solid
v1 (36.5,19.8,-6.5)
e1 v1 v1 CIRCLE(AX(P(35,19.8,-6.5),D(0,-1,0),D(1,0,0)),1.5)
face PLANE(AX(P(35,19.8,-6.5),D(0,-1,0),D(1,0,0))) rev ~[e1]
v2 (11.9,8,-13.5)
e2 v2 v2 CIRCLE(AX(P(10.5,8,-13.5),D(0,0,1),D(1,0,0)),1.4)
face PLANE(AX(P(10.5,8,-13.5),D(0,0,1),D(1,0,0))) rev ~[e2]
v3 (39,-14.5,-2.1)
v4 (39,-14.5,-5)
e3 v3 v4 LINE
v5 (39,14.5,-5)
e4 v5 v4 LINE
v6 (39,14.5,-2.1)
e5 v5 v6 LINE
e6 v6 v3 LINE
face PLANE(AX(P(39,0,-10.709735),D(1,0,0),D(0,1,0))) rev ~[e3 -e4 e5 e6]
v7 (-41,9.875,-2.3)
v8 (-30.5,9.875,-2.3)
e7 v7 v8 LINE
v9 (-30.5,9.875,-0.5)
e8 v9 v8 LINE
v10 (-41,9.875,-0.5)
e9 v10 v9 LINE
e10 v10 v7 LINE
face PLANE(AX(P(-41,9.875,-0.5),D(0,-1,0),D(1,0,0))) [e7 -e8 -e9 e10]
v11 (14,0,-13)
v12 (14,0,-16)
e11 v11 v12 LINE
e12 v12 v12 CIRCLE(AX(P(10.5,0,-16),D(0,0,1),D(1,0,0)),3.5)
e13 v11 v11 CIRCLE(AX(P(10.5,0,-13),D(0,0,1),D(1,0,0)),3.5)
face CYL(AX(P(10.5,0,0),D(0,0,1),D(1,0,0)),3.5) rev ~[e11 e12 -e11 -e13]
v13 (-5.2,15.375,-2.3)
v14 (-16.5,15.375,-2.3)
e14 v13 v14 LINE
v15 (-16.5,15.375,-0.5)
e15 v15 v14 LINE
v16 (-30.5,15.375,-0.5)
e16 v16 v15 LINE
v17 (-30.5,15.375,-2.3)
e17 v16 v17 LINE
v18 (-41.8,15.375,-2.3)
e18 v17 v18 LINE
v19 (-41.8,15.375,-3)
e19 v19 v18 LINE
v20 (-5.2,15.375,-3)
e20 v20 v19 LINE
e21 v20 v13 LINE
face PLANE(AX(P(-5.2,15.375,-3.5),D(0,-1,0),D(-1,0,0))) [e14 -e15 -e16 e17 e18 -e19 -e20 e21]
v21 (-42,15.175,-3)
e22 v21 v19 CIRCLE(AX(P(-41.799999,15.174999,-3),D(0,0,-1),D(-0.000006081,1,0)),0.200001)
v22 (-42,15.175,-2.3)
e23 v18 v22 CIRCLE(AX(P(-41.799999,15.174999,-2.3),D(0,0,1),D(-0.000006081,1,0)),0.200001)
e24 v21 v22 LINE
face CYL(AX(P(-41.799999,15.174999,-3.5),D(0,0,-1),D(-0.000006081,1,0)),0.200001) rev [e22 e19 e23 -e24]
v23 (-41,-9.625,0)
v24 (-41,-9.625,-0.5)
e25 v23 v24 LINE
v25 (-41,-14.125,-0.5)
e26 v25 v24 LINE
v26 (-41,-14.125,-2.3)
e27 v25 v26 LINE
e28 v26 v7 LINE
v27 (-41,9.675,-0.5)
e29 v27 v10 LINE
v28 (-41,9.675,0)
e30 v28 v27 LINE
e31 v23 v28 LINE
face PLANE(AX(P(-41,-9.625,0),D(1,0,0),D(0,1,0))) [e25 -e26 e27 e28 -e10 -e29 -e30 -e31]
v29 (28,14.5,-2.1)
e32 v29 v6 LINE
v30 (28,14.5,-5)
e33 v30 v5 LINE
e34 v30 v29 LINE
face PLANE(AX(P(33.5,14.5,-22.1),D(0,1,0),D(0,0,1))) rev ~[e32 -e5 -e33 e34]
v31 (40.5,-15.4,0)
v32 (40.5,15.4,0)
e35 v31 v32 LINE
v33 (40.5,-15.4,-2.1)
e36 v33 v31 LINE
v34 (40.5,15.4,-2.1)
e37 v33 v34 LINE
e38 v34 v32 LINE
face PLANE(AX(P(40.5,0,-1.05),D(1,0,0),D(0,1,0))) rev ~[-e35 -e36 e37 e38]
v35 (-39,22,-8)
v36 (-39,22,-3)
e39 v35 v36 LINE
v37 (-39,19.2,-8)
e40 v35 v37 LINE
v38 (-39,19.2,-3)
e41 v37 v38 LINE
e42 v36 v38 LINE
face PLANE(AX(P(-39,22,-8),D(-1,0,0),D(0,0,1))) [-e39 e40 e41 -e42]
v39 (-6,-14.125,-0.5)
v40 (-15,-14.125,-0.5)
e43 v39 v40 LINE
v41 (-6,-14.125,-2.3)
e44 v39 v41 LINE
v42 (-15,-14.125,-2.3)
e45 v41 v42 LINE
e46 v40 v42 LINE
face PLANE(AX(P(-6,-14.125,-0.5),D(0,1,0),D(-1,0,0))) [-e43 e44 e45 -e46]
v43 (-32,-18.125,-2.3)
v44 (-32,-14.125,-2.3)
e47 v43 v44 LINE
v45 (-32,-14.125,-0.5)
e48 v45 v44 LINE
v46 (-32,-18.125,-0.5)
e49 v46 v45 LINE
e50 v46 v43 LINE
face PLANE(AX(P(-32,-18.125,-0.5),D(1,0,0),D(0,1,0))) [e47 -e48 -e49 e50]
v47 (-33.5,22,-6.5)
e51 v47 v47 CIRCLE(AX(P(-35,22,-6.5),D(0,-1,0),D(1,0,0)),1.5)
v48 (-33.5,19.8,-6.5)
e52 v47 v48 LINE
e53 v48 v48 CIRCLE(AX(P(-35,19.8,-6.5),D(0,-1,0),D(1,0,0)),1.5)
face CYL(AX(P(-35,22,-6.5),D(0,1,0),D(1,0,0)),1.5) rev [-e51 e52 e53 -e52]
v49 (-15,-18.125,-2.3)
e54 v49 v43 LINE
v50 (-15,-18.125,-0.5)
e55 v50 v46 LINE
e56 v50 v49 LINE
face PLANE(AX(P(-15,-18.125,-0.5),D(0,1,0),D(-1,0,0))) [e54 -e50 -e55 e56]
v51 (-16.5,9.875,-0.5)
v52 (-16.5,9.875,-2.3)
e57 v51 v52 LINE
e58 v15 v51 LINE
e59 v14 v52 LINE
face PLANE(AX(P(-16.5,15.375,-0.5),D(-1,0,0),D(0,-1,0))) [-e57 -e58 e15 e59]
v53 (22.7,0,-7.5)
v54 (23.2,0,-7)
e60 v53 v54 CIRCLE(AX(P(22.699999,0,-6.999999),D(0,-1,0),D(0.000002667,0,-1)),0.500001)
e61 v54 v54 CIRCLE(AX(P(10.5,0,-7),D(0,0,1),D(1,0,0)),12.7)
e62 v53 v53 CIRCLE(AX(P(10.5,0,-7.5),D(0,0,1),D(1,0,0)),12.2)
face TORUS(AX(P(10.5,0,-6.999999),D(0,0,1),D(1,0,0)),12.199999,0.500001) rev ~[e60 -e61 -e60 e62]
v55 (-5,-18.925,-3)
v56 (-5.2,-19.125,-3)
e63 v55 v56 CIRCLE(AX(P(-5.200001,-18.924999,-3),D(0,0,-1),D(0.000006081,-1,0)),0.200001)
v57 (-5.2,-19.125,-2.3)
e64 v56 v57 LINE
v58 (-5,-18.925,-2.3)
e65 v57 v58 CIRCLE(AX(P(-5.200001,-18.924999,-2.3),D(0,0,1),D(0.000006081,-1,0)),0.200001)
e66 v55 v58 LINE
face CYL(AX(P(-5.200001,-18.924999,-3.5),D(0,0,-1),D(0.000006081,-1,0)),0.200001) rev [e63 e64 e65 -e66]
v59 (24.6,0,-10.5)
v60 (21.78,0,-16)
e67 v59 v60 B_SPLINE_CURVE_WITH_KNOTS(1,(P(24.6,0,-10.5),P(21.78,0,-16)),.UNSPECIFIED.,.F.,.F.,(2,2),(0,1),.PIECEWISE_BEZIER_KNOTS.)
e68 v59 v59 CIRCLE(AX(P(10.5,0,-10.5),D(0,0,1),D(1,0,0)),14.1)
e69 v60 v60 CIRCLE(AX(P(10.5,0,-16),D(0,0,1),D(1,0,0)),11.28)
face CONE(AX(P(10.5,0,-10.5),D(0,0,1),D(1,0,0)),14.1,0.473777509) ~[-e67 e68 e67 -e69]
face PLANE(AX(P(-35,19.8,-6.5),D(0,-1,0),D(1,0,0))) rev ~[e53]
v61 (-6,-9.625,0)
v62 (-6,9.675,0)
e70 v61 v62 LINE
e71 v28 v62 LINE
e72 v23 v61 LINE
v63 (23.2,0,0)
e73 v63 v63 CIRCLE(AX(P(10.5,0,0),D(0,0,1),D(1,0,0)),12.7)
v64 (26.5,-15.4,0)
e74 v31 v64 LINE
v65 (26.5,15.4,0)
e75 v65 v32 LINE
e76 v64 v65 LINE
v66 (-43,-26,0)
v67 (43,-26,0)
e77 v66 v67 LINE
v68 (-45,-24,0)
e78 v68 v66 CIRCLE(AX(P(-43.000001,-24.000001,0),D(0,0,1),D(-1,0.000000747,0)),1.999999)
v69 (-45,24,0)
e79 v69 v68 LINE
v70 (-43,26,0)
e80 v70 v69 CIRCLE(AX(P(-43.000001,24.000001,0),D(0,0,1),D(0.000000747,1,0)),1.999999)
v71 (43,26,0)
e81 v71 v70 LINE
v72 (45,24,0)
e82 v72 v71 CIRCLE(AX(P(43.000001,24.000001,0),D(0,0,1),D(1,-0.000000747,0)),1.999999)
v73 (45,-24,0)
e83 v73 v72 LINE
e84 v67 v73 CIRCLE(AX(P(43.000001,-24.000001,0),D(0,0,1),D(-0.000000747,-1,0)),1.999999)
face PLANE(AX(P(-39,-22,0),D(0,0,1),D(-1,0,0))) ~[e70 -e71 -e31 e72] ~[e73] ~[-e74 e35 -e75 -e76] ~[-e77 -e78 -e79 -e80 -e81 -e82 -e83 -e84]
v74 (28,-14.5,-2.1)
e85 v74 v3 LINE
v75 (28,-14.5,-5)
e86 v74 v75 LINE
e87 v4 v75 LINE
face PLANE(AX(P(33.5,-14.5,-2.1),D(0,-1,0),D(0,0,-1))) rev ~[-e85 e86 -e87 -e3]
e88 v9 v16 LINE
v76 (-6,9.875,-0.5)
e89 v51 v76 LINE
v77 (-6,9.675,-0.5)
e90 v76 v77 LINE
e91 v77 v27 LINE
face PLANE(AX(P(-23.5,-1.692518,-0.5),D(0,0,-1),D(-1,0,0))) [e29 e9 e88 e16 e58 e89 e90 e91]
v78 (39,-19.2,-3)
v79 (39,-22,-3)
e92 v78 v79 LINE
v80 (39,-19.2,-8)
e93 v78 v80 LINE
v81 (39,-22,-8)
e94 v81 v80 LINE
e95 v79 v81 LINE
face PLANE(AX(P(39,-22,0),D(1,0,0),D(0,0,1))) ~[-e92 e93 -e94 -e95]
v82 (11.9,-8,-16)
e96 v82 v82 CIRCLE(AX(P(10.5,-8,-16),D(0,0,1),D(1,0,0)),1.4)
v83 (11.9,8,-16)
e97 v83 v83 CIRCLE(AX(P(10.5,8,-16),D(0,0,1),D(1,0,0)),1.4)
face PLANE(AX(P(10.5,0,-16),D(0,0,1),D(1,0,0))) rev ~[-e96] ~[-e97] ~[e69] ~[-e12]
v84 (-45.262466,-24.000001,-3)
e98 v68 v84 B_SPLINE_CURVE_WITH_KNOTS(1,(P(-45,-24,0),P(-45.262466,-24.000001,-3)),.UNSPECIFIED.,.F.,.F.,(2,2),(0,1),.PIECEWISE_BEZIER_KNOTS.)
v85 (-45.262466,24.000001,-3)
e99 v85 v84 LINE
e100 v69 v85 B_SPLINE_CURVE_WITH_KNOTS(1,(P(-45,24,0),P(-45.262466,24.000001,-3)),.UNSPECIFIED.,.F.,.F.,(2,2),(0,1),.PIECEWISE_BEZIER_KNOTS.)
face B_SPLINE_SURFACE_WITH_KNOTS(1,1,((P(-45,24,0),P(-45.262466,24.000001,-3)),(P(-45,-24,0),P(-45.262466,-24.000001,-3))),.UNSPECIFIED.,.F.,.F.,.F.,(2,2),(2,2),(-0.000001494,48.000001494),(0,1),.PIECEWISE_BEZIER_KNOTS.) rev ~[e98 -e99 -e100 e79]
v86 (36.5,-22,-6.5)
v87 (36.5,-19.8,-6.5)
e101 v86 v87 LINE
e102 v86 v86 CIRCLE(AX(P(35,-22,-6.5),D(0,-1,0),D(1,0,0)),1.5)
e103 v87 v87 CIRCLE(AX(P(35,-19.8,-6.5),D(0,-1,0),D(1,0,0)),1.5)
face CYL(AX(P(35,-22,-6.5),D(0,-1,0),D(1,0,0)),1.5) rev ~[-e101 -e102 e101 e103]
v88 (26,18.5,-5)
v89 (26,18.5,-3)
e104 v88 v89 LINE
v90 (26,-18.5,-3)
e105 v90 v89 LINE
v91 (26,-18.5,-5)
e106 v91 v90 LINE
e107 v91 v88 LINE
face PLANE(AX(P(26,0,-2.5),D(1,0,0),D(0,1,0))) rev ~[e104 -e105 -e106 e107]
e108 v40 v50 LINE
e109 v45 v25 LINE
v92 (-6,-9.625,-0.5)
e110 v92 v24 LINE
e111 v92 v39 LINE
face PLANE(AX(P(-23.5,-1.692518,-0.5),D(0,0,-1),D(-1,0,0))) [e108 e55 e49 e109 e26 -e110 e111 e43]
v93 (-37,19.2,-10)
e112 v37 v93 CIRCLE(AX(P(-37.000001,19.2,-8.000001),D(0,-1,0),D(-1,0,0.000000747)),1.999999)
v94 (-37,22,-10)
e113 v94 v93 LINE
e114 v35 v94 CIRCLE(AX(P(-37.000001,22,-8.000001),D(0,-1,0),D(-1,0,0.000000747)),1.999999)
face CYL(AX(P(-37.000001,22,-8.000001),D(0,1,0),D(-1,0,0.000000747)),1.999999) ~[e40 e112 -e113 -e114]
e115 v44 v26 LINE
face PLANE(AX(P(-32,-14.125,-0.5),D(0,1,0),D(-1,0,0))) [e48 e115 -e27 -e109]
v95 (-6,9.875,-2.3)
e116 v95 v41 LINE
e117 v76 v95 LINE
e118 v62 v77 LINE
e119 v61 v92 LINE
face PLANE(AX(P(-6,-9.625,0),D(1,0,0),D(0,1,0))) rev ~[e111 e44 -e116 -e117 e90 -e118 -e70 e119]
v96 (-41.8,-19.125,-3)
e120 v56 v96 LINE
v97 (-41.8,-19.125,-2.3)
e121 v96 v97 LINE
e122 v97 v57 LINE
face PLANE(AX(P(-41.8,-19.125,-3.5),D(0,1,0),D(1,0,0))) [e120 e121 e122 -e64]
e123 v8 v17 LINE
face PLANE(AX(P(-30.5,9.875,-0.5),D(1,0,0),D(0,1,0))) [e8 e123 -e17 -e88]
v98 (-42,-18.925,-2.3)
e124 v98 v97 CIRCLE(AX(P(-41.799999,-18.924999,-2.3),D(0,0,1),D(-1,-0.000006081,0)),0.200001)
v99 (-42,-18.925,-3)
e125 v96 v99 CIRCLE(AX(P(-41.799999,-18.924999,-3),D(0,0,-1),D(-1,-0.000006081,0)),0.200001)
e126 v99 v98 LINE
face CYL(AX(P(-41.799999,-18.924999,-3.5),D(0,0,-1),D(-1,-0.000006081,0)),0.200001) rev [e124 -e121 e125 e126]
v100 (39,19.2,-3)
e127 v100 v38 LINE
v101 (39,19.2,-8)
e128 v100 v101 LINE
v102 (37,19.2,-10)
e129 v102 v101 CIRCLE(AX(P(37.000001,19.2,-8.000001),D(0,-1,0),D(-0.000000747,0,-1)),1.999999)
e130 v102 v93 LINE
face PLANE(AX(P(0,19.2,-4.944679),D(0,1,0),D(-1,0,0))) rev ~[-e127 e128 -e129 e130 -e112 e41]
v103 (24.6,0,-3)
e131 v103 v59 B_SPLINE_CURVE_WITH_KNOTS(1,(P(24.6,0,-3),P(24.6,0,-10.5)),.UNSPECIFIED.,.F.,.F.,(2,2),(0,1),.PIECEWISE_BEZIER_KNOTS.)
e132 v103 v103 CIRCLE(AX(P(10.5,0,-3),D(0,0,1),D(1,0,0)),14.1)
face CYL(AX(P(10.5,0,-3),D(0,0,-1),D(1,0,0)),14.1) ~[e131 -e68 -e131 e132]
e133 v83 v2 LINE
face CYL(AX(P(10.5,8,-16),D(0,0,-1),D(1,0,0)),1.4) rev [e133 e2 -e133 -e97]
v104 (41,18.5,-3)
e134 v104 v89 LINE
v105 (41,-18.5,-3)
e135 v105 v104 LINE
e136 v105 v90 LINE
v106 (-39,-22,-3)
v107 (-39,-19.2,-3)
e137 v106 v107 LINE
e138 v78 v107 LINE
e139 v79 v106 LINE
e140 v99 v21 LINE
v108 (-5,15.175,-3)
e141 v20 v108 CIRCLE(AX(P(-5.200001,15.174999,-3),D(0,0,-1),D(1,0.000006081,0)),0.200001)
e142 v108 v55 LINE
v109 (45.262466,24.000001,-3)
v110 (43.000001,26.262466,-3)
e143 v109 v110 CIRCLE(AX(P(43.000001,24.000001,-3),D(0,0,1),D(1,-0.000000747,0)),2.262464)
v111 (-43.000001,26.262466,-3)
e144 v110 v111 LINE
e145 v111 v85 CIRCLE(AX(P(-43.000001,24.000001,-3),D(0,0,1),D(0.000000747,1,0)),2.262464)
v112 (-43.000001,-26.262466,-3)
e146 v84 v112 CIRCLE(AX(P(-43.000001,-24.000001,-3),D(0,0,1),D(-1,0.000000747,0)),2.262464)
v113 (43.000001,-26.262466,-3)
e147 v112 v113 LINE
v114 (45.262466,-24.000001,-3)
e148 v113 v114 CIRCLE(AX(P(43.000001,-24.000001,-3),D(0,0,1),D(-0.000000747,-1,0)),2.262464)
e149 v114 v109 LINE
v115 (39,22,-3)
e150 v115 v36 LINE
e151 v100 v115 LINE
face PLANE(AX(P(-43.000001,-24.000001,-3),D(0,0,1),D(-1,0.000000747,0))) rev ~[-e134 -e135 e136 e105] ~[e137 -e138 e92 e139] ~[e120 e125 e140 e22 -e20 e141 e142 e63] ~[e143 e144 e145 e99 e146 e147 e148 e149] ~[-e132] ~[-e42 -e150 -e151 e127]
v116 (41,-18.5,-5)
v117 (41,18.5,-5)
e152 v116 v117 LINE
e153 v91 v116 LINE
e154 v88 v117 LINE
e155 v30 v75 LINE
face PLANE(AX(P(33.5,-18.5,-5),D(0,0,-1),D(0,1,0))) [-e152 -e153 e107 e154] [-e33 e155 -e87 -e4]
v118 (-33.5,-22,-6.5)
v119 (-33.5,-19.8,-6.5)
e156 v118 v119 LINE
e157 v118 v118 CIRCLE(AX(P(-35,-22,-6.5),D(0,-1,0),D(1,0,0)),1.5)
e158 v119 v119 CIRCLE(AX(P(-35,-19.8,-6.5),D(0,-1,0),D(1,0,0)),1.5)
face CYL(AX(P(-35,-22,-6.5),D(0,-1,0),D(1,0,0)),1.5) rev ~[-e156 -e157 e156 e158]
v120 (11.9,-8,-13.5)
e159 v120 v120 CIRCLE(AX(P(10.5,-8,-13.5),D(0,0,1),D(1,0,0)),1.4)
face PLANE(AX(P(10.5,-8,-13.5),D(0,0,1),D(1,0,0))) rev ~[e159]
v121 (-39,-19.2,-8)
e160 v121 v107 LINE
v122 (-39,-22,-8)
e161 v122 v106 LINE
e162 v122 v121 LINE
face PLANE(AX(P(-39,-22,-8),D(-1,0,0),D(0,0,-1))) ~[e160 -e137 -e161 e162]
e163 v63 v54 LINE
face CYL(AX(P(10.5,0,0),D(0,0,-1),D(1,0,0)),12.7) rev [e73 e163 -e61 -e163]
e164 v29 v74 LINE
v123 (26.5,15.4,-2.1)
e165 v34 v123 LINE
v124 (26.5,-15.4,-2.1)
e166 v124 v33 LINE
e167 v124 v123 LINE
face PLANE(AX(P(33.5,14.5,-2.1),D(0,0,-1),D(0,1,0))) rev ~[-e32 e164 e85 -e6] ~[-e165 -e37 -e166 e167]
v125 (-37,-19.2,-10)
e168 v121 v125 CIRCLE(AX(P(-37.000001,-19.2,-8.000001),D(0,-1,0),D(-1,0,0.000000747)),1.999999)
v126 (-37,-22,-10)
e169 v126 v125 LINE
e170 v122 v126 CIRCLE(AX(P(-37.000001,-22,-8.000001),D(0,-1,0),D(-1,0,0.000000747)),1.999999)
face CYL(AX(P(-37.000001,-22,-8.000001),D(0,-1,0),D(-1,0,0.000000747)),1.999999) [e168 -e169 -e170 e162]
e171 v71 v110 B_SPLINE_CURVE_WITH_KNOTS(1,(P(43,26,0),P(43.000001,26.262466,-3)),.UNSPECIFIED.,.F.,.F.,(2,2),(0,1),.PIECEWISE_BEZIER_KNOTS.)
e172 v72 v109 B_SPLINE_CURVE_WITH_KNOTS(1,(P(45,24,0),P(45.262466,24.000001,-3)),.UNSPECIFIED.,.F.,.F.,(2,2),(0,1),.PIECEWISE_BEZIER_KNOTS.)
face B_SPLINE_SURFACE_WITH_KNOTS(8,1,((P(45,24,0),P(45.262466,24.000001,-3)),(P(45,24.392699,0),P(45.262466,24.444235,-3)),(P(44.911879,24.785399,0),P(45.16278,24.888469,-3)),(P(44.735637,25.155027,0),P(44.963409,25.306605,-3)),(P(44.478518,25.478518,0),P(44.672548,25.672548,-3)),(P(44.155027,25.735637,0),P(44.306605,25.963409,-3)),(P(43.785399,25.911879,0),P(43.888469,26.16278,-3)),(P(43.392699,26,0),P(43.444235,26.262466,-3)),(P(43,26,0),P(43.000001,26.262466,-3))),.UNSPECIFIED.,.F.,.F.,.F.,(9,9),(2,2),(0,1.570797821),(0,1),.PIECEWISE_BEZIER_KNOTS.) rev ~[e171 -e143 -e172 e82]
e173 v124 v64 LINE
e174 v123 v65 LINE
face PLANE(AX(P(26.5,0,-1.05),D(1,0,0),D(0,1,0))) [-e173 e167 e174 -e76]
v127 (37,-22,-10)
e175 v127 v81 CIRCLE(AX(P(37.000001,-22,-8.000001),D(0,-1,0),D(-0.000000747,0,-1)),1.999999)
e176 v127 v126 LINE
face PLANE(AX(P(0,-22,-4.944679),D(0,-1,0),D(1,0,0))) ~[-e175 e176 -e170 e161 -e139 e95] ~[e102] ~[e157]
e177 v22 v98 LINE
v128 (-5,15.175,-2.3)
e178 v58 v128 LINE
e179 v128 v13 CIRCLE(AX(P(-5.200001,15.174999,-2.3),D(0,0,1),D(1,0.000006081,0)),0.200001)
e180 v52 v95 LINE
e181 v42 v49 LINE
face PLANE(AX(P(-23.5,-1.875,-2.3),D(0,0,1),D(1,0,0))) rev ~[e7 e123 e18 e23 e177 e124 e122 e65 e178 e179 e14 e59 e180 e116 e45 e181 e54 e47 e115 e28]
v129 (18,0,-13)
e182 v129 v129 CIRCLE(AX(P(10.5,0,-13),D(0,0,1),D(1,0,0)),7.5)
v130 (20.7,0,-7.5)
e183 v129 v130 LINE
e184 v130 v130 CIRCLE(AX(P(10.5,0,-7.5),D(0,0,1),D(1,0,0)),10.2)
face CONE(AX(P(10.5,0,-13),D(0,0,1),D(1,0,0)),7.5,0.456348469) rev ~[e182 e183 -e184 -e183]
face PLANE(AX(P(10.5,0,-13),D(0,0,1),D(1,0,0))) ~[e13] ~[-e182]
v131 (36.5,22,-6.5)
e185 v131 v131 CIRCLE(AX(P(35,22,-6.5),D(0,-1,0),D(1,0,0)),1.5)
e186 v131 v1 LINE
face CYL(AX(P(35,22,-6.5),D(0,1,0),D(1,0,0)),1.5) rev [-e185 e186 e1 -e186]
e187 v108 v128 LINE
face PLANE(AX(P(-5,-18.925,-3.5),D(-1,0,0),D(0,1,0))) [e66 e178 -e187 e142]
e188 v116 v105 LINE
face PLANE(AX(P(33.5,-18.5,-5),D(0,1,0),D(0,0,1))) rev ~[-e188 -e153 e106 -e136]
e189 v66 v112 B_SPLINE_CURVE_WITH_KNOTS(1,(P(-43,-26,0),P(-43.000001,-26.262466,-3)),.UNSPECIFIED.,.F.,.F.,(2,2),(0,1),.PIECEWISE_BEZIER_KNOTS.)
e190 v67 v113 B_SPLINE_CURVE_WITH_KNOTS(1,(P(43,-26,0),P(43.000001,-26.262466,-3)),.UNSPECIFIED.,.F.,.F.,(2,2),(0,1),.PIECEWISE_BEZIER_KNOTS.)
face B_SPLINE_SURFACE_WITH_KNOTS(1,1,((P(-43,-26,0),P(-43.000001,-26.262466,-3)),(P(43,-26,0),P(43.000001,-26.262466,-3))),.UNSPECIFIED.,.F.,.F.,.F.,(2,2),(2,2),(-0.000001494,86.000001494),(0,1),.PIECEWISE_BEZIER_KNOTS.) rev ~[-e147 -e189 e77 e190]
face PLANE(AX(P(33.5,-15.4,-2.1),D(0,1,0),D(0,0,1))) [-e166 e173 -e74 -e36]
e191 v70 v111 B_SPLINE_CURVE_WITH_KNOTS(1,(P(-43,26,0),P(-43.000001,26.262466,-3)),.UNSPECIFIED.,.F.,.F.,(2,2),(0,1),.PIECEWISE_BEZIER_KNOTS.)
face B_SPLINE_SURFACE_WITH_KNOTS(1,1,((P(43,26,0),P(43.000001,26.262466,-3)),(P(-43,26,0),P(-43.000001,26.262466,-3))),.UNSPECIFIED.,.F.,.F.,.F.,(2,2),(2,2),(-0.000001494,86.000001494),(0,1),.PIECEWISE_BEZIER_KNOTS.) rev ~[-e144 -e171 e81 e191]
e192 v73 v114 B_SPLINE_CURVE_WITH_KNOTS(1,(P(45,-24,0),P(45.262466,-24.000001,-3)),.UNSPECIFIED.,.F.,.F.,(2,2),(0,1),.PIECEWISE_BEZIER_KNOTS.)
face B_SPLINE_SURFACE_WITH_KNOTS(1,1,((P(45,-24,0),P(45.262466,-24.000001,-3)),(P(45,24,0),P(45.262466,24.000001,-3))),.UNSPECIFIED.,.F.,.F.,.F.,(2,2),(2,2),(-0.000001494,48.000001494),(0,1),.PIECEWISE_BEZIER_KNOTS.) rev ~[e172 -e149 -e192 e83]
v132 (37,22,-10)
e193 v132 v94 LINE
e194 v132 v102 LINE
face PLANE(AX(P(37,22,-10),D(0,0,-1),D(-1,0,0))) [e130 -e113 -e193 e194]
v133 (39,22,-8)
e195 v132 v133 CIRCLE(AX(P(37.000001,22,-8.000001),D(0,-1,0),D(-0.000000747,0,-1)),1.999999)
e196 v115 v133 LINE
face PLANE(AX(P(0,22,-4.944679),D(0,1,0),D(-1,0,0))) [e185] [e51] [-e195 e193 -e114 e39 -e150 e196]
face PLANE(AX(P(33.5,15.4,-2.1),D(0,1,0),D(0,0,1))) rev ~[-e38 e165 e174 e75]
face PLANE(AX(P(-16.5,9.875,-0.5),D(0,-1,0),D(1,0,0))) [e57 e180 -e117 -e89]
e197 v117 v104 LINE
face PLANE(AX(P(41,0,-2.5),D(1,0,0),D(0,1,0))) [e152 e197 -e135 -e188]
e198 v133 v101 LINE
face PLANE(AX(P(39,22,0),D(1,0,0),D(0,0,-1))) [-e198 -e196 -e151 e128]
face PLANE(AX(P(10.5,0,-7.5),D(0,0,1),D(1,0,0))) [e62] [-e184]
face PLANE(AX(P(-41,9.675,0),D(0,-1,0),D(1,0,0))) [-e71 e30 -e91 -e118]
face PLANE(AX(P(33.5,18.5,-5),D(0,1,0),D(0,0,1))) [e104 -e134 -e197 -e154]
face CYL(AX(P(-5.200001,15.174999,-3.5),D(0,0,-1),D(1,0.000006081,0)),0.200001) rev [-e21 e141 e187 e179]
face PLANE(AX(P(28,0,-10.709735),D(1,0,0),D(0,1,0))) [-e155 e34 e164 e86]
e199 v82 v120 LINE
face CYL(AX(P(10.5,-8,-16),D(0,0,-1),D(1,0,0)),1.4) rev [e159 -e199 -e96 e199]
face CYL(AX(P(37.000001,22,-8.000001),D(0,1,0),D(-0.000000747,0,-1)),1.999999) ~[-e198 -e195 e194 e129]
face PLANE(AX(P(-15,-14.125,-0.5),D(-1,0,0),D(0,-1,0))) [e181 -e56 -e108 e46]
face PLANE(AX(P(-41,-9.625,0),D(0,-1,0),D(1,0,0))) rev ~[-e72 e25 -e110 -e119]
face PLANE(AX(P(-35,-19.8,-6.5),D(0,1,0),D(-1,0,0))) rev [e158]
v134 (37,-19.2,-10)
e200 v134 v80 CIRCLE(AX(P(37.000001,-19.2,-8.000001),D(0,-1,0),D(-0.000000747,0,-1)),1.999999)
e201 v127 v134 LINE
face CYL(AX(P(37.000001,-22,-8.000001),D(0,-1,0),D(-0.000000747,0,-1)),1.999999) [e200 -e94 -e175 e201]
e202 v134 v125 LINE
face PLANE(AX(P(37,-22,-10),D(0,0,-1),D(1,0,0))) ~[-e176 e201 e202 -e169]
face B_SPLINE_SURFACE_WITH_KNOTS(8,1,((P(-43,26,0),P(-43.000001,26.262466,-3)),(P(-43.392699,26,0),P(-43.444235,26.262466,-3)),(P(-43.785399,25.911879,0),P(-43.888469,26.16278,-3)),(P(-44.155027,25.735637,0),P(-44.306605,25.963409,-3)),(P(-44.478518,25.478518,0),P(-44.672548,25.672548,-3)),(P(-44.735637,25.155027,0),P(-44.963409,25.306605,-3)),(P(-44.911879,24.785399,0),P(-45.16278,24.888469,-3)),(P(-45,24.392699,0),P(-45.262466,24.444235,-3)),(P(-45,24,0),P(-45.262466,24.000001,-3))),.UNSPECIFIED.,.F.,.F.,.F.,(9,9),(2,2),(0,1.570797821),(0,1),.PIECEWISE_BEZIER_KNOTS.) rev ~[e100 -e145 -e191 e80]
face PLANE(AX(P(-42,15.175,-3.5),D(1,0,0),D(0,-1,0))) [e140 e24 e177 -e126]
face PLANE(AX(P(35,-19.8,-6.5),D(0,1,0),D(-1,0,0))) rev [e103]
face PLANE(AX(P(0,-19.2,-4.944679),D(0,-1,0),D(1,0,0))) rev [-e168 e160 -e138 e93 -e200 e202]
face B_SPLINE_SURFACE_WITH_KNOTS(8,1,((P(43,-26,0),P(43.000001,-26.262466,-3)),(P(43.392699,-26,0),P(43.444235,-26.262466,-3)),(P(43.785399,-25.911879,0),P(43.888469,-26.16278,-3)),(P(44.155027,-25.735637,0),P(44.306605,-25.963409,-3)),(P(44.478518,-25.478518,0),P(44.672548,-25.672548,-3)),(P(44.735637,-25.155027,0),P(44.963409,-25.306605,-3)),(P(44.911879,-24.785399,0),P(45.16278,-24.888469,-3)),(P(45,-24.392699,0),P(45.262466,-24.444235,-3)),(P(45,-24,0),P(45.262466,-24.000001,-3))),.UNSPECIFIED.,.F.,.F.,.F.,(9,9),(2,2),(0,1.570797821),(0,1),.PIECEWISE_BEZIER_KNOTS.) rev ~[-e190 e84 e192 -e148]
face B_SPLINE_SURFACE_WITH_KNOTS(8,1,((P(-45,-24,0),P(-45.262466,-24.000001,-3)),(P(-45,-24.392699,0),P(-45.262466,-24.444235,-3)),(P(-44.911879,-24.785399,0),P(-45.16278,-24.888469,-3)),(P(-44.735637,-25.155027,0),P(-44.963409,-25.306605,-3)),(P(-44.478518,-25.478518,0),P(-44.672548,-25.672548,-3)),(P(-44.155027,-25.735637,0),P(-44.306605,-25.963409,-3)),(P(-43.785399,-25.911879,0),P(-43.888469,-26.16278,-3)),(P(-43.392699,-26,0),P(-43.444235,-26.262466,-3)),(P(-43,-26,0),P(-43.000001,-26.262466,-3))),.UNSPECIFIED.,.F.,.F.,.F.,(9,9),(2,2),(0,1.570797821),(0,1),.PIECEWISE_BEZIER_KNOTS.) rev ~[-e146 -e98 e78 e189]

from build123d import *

# Parameters (mm, degrees)
PAD011_DEPTH         = 3
PAD011_TAPER         = -5
PAD012_DEPTH         = 2.8
SKETCH036_R          = 1.5
HOLE001_DEPTH        = 2.2
SKETCH034_R          = 14.1
SKETCH047_R          = 14.1
SKETCH048_R          = 11.28
SKETCH028_R          = 3.5
POCKET010_DEPTH      = 16.001
SKETCH073_R          = 1.4
POCKET023_DEPTH      = 2.5
POCKET019_DEPTH      = 1.2
POCKET012_DEPTH      = 5
SKETCH072_W          = 35
SKETCH072_H          = 19.3
POCKET022_DEPTH      = 16.001
POCKET022_DEPTH_BACK = 0.001
SKETCH_W             = 37
SKETCH_H             = 5
PAD_DEPTH            = 7.5
SKETCH058_W          = 30.8
SKETCH058_H          = 2.1
POCKET_DEPTH         = 7
POCKET021_DEPTH      = 5.5


with BuildPart() as part:
    # Sketch024 → Pad011 (new body)
    with BuildSketch(Plane.XY):
        with BuildLine():
            Line((-45, 24), (-45, -24))
            ThreePointArc((-45, -24), (-44.414214, -25.414214), (-43, -26))
            Line((-43, -26), (43, -26))
            ThreePointArc((43, -26), (44.414214, -25.414214), (45, -24))
            Line((45, -24), (45, 24))
            ThreePointArc((45, 24), (44.414214, 25.414214), (43, 26))
            Line((43, 26), (-43, 26))
            ThreePointArc((-43, 26), (-44.414214, 25.414214), (-45, 24))
        make_face()
    extrude(amount=-PAD011_DEPTH, taper=PAD011_TAPER)

    # Sketch033 → Pad012 (join)
    with BuildSketch(Plane.XZ.offset(-22)):
        with BuildLine():
            Line((-39, 0), (39, 0))
            Line((39, 0), (39, -8))
            ThreePointArc((37, -10), (38.414214, -9.414214), (39, -8))
            Line((37, -10), (-37, -10))
            ThreePointArc((-39, -8), (-38.414214, -9.414214), (-37, -10))
            Line((-39, -8), (-39, 0))
        make_face()
    pad012 = extrude(amount=PAD012_DEPTH)

    # Sketch036 → Hole001 (cut)
    with BuildSketch(Plane.XZ.offset(-22)):
        with Locations((-35, -6.5)):
            Circle(SKETCH036_R)
        with Locations((35, -6.5)):
            Circle(SKETCH036_R)
    hole001 = extrude(amount=HOLE001_DEPTH, mode=Mode.SUBTRACT)

    # Mirrored: Pad012, Hole001 across XZ
    add(pad012.mirror(Plane.XZ))
    add(hole001.mirror(Plane.XZ), mode=Mode.SUBTRACT)

    # Sketch034 → AdditiveLoft section 0
    with BuildSketch(Plane.XY.offset(-3)):
        with Locations((10.5, 0)):
            Circle(SKETCH034_R)
    # Sketch047 → AdditiveLoft section 1
    with BuildSketch(Plane.XY.offset(-10.5)):
        with Locations((10.5, 0)):
            Circle(SKETCH047_R)
    # Sketch048 → AdditiveLoft section 2
    with BuildSketch(Plane.XY.offset(-16)):
        with Locations((10.5, 0)):
            Circle(SKETCH048_R)
    loft(ruled=True)

    # Sketch026 → Groove (revolve, cut)
    with BuildSketch(Plane(origin=(10.5, 0, 0), x_dir=(1, 0, 0), z_dir=(0, -1, 0))):
        with BuildLine():
            Line((0, 0), (12.7, 0))
            Line((12.7, 0), (12.7, -7))
            ThreePointArc((12.2, -7.5), (12.553553, -7.353553), (12.7, -7))
            Line((12.2, -7.5), (10.2, -7.5))
            Line((7.5, -13), (10.2, -7.5))
            Line((0, -13), (7.5, -13))
            Line((0, -13), (0, 0))
        make_face()
    revolve(axis=Axis((10.5, 0, 0), (0, 0, 1)), mode=Mode.SUBTRACT)

    # Sketch028 → Pocket010 (cut, through all)
    with BuildSketch(Plane.XY):
        with Locations((10.5, 0)):
            Circle(SKETCH028_R)
    extrude(amount=-POCKET010_DEPTH, mode=Mode.SUBTRACT)

    # Sketch073 → Pocket023 (cut)
    with BuildSketch(Plane.XY.offset(-16)):
        with Locations((10.5, -8)):
            Circle(SKETCH073_R)
        with Locations((10.5, 8)):
            Circle(SKETCH073_R)
    extrude(amount=POCKET023_DEPTH, mode=Mode.SUBTRACT)

    # Sketch053 → Pocket019 (cut)
    with BuildSketch(Plane.XY.offset(-3.5)):
        with BuildLine():
            Line((-42, 15.175), (-42, -18.925))
            ThreePointArc((-42, -18.925), (-41.941421, -19.066421), (-41.8, -19.125))
            Line((-41.8, -19.125), (-5.2, -19.125))
            ThreePointArc((-5.2, -19.125), (-5.058579, -19.066421), (-5, -18.925))
            Line((-5, -18.925), (-5, 15.175))
            ThreePointArc((-5, 15.175), (-5.058579, 15.316421), (-5.2, 15.375))
            Line((-5.2, 15.375), (-41.8, 15.375))
            ThreePointArc((-41.8, 15.375), (-41.941421, 15.316421), (-42, 15.175))
        make_face()
    extrude(amount=POCKET019_DEPTH, mode=Mode.SUBTRACT)

    # Sketch030 → Pocket012 (cut)
    with BuildSketch(Plane.XY.offset(-0.5)):
        Polygon((-30.5, 15.375), (-16.5, 15.375), (-16.5, 9.875), (-6, 9.875), (-6, -14.125), (-15, -14.125), (-15, -18.125), (-32, -18.125), (-32, -14.125), (-41, -14.125), (-41, 9.875), (-30.5, 9.875), align=None)
    extrude(amount=-POCKET012_DEPTH, mode=Mode.SUBTRACT)

    # Sketch072 → Pocket022 (cut, two sides)
    with BuildSketch(Plane.XY) as pocket022_sk:
        with Locations((-23.5, 0.025)):
            Rectangle(SKETCH072_W, SKETCH072_H)
    extrude(amount=-POCKET022_DEPTH, mode=Mode.SUBTRACT)
    extrude(pocket022_sk.sketch, amount=POCKET022_DEPTH_BACK, mode=Mode.SUBTRACT)

    # Sketch → Pad (join, symmetric)
    with BuildSketch(Plane.YZ.offset(33.5)):
        with Locations((0, -2.5)):
            Rectangle(SKETCH_W, SKETCH_H)
    extrude(amount=PAD_DEPTH, both=True)

    # Sketch058 → Pocket (cut, symmetric)
    with BuildSketch(Plane.YZ.offset(33.5)):
        with Locations((0, -1.05)):
            Rectangle(SKETCH058_W, SKETCH058_H)
    extrude(amount=POCKET_DEPTH, both=True, mode=Mode.SUBTRACT)

    # Sketch059 → Pocket021 (cut, symmetric)
    with BuildSketch(Plane.YZ.offset(33.5)):
        Polygon((-15.4, 0), (-15.4, -2.1), (-14.5, -2.1), (-14.5, -22.1), (14.5, -22.1), (14.5, -2.1), (15.4, -2.1), (15.4, 0), align=None)
    extrude(amount=POCKET021_DEPTH, both=True, mode=Mode.SUBTRACT)


solid = part.part
